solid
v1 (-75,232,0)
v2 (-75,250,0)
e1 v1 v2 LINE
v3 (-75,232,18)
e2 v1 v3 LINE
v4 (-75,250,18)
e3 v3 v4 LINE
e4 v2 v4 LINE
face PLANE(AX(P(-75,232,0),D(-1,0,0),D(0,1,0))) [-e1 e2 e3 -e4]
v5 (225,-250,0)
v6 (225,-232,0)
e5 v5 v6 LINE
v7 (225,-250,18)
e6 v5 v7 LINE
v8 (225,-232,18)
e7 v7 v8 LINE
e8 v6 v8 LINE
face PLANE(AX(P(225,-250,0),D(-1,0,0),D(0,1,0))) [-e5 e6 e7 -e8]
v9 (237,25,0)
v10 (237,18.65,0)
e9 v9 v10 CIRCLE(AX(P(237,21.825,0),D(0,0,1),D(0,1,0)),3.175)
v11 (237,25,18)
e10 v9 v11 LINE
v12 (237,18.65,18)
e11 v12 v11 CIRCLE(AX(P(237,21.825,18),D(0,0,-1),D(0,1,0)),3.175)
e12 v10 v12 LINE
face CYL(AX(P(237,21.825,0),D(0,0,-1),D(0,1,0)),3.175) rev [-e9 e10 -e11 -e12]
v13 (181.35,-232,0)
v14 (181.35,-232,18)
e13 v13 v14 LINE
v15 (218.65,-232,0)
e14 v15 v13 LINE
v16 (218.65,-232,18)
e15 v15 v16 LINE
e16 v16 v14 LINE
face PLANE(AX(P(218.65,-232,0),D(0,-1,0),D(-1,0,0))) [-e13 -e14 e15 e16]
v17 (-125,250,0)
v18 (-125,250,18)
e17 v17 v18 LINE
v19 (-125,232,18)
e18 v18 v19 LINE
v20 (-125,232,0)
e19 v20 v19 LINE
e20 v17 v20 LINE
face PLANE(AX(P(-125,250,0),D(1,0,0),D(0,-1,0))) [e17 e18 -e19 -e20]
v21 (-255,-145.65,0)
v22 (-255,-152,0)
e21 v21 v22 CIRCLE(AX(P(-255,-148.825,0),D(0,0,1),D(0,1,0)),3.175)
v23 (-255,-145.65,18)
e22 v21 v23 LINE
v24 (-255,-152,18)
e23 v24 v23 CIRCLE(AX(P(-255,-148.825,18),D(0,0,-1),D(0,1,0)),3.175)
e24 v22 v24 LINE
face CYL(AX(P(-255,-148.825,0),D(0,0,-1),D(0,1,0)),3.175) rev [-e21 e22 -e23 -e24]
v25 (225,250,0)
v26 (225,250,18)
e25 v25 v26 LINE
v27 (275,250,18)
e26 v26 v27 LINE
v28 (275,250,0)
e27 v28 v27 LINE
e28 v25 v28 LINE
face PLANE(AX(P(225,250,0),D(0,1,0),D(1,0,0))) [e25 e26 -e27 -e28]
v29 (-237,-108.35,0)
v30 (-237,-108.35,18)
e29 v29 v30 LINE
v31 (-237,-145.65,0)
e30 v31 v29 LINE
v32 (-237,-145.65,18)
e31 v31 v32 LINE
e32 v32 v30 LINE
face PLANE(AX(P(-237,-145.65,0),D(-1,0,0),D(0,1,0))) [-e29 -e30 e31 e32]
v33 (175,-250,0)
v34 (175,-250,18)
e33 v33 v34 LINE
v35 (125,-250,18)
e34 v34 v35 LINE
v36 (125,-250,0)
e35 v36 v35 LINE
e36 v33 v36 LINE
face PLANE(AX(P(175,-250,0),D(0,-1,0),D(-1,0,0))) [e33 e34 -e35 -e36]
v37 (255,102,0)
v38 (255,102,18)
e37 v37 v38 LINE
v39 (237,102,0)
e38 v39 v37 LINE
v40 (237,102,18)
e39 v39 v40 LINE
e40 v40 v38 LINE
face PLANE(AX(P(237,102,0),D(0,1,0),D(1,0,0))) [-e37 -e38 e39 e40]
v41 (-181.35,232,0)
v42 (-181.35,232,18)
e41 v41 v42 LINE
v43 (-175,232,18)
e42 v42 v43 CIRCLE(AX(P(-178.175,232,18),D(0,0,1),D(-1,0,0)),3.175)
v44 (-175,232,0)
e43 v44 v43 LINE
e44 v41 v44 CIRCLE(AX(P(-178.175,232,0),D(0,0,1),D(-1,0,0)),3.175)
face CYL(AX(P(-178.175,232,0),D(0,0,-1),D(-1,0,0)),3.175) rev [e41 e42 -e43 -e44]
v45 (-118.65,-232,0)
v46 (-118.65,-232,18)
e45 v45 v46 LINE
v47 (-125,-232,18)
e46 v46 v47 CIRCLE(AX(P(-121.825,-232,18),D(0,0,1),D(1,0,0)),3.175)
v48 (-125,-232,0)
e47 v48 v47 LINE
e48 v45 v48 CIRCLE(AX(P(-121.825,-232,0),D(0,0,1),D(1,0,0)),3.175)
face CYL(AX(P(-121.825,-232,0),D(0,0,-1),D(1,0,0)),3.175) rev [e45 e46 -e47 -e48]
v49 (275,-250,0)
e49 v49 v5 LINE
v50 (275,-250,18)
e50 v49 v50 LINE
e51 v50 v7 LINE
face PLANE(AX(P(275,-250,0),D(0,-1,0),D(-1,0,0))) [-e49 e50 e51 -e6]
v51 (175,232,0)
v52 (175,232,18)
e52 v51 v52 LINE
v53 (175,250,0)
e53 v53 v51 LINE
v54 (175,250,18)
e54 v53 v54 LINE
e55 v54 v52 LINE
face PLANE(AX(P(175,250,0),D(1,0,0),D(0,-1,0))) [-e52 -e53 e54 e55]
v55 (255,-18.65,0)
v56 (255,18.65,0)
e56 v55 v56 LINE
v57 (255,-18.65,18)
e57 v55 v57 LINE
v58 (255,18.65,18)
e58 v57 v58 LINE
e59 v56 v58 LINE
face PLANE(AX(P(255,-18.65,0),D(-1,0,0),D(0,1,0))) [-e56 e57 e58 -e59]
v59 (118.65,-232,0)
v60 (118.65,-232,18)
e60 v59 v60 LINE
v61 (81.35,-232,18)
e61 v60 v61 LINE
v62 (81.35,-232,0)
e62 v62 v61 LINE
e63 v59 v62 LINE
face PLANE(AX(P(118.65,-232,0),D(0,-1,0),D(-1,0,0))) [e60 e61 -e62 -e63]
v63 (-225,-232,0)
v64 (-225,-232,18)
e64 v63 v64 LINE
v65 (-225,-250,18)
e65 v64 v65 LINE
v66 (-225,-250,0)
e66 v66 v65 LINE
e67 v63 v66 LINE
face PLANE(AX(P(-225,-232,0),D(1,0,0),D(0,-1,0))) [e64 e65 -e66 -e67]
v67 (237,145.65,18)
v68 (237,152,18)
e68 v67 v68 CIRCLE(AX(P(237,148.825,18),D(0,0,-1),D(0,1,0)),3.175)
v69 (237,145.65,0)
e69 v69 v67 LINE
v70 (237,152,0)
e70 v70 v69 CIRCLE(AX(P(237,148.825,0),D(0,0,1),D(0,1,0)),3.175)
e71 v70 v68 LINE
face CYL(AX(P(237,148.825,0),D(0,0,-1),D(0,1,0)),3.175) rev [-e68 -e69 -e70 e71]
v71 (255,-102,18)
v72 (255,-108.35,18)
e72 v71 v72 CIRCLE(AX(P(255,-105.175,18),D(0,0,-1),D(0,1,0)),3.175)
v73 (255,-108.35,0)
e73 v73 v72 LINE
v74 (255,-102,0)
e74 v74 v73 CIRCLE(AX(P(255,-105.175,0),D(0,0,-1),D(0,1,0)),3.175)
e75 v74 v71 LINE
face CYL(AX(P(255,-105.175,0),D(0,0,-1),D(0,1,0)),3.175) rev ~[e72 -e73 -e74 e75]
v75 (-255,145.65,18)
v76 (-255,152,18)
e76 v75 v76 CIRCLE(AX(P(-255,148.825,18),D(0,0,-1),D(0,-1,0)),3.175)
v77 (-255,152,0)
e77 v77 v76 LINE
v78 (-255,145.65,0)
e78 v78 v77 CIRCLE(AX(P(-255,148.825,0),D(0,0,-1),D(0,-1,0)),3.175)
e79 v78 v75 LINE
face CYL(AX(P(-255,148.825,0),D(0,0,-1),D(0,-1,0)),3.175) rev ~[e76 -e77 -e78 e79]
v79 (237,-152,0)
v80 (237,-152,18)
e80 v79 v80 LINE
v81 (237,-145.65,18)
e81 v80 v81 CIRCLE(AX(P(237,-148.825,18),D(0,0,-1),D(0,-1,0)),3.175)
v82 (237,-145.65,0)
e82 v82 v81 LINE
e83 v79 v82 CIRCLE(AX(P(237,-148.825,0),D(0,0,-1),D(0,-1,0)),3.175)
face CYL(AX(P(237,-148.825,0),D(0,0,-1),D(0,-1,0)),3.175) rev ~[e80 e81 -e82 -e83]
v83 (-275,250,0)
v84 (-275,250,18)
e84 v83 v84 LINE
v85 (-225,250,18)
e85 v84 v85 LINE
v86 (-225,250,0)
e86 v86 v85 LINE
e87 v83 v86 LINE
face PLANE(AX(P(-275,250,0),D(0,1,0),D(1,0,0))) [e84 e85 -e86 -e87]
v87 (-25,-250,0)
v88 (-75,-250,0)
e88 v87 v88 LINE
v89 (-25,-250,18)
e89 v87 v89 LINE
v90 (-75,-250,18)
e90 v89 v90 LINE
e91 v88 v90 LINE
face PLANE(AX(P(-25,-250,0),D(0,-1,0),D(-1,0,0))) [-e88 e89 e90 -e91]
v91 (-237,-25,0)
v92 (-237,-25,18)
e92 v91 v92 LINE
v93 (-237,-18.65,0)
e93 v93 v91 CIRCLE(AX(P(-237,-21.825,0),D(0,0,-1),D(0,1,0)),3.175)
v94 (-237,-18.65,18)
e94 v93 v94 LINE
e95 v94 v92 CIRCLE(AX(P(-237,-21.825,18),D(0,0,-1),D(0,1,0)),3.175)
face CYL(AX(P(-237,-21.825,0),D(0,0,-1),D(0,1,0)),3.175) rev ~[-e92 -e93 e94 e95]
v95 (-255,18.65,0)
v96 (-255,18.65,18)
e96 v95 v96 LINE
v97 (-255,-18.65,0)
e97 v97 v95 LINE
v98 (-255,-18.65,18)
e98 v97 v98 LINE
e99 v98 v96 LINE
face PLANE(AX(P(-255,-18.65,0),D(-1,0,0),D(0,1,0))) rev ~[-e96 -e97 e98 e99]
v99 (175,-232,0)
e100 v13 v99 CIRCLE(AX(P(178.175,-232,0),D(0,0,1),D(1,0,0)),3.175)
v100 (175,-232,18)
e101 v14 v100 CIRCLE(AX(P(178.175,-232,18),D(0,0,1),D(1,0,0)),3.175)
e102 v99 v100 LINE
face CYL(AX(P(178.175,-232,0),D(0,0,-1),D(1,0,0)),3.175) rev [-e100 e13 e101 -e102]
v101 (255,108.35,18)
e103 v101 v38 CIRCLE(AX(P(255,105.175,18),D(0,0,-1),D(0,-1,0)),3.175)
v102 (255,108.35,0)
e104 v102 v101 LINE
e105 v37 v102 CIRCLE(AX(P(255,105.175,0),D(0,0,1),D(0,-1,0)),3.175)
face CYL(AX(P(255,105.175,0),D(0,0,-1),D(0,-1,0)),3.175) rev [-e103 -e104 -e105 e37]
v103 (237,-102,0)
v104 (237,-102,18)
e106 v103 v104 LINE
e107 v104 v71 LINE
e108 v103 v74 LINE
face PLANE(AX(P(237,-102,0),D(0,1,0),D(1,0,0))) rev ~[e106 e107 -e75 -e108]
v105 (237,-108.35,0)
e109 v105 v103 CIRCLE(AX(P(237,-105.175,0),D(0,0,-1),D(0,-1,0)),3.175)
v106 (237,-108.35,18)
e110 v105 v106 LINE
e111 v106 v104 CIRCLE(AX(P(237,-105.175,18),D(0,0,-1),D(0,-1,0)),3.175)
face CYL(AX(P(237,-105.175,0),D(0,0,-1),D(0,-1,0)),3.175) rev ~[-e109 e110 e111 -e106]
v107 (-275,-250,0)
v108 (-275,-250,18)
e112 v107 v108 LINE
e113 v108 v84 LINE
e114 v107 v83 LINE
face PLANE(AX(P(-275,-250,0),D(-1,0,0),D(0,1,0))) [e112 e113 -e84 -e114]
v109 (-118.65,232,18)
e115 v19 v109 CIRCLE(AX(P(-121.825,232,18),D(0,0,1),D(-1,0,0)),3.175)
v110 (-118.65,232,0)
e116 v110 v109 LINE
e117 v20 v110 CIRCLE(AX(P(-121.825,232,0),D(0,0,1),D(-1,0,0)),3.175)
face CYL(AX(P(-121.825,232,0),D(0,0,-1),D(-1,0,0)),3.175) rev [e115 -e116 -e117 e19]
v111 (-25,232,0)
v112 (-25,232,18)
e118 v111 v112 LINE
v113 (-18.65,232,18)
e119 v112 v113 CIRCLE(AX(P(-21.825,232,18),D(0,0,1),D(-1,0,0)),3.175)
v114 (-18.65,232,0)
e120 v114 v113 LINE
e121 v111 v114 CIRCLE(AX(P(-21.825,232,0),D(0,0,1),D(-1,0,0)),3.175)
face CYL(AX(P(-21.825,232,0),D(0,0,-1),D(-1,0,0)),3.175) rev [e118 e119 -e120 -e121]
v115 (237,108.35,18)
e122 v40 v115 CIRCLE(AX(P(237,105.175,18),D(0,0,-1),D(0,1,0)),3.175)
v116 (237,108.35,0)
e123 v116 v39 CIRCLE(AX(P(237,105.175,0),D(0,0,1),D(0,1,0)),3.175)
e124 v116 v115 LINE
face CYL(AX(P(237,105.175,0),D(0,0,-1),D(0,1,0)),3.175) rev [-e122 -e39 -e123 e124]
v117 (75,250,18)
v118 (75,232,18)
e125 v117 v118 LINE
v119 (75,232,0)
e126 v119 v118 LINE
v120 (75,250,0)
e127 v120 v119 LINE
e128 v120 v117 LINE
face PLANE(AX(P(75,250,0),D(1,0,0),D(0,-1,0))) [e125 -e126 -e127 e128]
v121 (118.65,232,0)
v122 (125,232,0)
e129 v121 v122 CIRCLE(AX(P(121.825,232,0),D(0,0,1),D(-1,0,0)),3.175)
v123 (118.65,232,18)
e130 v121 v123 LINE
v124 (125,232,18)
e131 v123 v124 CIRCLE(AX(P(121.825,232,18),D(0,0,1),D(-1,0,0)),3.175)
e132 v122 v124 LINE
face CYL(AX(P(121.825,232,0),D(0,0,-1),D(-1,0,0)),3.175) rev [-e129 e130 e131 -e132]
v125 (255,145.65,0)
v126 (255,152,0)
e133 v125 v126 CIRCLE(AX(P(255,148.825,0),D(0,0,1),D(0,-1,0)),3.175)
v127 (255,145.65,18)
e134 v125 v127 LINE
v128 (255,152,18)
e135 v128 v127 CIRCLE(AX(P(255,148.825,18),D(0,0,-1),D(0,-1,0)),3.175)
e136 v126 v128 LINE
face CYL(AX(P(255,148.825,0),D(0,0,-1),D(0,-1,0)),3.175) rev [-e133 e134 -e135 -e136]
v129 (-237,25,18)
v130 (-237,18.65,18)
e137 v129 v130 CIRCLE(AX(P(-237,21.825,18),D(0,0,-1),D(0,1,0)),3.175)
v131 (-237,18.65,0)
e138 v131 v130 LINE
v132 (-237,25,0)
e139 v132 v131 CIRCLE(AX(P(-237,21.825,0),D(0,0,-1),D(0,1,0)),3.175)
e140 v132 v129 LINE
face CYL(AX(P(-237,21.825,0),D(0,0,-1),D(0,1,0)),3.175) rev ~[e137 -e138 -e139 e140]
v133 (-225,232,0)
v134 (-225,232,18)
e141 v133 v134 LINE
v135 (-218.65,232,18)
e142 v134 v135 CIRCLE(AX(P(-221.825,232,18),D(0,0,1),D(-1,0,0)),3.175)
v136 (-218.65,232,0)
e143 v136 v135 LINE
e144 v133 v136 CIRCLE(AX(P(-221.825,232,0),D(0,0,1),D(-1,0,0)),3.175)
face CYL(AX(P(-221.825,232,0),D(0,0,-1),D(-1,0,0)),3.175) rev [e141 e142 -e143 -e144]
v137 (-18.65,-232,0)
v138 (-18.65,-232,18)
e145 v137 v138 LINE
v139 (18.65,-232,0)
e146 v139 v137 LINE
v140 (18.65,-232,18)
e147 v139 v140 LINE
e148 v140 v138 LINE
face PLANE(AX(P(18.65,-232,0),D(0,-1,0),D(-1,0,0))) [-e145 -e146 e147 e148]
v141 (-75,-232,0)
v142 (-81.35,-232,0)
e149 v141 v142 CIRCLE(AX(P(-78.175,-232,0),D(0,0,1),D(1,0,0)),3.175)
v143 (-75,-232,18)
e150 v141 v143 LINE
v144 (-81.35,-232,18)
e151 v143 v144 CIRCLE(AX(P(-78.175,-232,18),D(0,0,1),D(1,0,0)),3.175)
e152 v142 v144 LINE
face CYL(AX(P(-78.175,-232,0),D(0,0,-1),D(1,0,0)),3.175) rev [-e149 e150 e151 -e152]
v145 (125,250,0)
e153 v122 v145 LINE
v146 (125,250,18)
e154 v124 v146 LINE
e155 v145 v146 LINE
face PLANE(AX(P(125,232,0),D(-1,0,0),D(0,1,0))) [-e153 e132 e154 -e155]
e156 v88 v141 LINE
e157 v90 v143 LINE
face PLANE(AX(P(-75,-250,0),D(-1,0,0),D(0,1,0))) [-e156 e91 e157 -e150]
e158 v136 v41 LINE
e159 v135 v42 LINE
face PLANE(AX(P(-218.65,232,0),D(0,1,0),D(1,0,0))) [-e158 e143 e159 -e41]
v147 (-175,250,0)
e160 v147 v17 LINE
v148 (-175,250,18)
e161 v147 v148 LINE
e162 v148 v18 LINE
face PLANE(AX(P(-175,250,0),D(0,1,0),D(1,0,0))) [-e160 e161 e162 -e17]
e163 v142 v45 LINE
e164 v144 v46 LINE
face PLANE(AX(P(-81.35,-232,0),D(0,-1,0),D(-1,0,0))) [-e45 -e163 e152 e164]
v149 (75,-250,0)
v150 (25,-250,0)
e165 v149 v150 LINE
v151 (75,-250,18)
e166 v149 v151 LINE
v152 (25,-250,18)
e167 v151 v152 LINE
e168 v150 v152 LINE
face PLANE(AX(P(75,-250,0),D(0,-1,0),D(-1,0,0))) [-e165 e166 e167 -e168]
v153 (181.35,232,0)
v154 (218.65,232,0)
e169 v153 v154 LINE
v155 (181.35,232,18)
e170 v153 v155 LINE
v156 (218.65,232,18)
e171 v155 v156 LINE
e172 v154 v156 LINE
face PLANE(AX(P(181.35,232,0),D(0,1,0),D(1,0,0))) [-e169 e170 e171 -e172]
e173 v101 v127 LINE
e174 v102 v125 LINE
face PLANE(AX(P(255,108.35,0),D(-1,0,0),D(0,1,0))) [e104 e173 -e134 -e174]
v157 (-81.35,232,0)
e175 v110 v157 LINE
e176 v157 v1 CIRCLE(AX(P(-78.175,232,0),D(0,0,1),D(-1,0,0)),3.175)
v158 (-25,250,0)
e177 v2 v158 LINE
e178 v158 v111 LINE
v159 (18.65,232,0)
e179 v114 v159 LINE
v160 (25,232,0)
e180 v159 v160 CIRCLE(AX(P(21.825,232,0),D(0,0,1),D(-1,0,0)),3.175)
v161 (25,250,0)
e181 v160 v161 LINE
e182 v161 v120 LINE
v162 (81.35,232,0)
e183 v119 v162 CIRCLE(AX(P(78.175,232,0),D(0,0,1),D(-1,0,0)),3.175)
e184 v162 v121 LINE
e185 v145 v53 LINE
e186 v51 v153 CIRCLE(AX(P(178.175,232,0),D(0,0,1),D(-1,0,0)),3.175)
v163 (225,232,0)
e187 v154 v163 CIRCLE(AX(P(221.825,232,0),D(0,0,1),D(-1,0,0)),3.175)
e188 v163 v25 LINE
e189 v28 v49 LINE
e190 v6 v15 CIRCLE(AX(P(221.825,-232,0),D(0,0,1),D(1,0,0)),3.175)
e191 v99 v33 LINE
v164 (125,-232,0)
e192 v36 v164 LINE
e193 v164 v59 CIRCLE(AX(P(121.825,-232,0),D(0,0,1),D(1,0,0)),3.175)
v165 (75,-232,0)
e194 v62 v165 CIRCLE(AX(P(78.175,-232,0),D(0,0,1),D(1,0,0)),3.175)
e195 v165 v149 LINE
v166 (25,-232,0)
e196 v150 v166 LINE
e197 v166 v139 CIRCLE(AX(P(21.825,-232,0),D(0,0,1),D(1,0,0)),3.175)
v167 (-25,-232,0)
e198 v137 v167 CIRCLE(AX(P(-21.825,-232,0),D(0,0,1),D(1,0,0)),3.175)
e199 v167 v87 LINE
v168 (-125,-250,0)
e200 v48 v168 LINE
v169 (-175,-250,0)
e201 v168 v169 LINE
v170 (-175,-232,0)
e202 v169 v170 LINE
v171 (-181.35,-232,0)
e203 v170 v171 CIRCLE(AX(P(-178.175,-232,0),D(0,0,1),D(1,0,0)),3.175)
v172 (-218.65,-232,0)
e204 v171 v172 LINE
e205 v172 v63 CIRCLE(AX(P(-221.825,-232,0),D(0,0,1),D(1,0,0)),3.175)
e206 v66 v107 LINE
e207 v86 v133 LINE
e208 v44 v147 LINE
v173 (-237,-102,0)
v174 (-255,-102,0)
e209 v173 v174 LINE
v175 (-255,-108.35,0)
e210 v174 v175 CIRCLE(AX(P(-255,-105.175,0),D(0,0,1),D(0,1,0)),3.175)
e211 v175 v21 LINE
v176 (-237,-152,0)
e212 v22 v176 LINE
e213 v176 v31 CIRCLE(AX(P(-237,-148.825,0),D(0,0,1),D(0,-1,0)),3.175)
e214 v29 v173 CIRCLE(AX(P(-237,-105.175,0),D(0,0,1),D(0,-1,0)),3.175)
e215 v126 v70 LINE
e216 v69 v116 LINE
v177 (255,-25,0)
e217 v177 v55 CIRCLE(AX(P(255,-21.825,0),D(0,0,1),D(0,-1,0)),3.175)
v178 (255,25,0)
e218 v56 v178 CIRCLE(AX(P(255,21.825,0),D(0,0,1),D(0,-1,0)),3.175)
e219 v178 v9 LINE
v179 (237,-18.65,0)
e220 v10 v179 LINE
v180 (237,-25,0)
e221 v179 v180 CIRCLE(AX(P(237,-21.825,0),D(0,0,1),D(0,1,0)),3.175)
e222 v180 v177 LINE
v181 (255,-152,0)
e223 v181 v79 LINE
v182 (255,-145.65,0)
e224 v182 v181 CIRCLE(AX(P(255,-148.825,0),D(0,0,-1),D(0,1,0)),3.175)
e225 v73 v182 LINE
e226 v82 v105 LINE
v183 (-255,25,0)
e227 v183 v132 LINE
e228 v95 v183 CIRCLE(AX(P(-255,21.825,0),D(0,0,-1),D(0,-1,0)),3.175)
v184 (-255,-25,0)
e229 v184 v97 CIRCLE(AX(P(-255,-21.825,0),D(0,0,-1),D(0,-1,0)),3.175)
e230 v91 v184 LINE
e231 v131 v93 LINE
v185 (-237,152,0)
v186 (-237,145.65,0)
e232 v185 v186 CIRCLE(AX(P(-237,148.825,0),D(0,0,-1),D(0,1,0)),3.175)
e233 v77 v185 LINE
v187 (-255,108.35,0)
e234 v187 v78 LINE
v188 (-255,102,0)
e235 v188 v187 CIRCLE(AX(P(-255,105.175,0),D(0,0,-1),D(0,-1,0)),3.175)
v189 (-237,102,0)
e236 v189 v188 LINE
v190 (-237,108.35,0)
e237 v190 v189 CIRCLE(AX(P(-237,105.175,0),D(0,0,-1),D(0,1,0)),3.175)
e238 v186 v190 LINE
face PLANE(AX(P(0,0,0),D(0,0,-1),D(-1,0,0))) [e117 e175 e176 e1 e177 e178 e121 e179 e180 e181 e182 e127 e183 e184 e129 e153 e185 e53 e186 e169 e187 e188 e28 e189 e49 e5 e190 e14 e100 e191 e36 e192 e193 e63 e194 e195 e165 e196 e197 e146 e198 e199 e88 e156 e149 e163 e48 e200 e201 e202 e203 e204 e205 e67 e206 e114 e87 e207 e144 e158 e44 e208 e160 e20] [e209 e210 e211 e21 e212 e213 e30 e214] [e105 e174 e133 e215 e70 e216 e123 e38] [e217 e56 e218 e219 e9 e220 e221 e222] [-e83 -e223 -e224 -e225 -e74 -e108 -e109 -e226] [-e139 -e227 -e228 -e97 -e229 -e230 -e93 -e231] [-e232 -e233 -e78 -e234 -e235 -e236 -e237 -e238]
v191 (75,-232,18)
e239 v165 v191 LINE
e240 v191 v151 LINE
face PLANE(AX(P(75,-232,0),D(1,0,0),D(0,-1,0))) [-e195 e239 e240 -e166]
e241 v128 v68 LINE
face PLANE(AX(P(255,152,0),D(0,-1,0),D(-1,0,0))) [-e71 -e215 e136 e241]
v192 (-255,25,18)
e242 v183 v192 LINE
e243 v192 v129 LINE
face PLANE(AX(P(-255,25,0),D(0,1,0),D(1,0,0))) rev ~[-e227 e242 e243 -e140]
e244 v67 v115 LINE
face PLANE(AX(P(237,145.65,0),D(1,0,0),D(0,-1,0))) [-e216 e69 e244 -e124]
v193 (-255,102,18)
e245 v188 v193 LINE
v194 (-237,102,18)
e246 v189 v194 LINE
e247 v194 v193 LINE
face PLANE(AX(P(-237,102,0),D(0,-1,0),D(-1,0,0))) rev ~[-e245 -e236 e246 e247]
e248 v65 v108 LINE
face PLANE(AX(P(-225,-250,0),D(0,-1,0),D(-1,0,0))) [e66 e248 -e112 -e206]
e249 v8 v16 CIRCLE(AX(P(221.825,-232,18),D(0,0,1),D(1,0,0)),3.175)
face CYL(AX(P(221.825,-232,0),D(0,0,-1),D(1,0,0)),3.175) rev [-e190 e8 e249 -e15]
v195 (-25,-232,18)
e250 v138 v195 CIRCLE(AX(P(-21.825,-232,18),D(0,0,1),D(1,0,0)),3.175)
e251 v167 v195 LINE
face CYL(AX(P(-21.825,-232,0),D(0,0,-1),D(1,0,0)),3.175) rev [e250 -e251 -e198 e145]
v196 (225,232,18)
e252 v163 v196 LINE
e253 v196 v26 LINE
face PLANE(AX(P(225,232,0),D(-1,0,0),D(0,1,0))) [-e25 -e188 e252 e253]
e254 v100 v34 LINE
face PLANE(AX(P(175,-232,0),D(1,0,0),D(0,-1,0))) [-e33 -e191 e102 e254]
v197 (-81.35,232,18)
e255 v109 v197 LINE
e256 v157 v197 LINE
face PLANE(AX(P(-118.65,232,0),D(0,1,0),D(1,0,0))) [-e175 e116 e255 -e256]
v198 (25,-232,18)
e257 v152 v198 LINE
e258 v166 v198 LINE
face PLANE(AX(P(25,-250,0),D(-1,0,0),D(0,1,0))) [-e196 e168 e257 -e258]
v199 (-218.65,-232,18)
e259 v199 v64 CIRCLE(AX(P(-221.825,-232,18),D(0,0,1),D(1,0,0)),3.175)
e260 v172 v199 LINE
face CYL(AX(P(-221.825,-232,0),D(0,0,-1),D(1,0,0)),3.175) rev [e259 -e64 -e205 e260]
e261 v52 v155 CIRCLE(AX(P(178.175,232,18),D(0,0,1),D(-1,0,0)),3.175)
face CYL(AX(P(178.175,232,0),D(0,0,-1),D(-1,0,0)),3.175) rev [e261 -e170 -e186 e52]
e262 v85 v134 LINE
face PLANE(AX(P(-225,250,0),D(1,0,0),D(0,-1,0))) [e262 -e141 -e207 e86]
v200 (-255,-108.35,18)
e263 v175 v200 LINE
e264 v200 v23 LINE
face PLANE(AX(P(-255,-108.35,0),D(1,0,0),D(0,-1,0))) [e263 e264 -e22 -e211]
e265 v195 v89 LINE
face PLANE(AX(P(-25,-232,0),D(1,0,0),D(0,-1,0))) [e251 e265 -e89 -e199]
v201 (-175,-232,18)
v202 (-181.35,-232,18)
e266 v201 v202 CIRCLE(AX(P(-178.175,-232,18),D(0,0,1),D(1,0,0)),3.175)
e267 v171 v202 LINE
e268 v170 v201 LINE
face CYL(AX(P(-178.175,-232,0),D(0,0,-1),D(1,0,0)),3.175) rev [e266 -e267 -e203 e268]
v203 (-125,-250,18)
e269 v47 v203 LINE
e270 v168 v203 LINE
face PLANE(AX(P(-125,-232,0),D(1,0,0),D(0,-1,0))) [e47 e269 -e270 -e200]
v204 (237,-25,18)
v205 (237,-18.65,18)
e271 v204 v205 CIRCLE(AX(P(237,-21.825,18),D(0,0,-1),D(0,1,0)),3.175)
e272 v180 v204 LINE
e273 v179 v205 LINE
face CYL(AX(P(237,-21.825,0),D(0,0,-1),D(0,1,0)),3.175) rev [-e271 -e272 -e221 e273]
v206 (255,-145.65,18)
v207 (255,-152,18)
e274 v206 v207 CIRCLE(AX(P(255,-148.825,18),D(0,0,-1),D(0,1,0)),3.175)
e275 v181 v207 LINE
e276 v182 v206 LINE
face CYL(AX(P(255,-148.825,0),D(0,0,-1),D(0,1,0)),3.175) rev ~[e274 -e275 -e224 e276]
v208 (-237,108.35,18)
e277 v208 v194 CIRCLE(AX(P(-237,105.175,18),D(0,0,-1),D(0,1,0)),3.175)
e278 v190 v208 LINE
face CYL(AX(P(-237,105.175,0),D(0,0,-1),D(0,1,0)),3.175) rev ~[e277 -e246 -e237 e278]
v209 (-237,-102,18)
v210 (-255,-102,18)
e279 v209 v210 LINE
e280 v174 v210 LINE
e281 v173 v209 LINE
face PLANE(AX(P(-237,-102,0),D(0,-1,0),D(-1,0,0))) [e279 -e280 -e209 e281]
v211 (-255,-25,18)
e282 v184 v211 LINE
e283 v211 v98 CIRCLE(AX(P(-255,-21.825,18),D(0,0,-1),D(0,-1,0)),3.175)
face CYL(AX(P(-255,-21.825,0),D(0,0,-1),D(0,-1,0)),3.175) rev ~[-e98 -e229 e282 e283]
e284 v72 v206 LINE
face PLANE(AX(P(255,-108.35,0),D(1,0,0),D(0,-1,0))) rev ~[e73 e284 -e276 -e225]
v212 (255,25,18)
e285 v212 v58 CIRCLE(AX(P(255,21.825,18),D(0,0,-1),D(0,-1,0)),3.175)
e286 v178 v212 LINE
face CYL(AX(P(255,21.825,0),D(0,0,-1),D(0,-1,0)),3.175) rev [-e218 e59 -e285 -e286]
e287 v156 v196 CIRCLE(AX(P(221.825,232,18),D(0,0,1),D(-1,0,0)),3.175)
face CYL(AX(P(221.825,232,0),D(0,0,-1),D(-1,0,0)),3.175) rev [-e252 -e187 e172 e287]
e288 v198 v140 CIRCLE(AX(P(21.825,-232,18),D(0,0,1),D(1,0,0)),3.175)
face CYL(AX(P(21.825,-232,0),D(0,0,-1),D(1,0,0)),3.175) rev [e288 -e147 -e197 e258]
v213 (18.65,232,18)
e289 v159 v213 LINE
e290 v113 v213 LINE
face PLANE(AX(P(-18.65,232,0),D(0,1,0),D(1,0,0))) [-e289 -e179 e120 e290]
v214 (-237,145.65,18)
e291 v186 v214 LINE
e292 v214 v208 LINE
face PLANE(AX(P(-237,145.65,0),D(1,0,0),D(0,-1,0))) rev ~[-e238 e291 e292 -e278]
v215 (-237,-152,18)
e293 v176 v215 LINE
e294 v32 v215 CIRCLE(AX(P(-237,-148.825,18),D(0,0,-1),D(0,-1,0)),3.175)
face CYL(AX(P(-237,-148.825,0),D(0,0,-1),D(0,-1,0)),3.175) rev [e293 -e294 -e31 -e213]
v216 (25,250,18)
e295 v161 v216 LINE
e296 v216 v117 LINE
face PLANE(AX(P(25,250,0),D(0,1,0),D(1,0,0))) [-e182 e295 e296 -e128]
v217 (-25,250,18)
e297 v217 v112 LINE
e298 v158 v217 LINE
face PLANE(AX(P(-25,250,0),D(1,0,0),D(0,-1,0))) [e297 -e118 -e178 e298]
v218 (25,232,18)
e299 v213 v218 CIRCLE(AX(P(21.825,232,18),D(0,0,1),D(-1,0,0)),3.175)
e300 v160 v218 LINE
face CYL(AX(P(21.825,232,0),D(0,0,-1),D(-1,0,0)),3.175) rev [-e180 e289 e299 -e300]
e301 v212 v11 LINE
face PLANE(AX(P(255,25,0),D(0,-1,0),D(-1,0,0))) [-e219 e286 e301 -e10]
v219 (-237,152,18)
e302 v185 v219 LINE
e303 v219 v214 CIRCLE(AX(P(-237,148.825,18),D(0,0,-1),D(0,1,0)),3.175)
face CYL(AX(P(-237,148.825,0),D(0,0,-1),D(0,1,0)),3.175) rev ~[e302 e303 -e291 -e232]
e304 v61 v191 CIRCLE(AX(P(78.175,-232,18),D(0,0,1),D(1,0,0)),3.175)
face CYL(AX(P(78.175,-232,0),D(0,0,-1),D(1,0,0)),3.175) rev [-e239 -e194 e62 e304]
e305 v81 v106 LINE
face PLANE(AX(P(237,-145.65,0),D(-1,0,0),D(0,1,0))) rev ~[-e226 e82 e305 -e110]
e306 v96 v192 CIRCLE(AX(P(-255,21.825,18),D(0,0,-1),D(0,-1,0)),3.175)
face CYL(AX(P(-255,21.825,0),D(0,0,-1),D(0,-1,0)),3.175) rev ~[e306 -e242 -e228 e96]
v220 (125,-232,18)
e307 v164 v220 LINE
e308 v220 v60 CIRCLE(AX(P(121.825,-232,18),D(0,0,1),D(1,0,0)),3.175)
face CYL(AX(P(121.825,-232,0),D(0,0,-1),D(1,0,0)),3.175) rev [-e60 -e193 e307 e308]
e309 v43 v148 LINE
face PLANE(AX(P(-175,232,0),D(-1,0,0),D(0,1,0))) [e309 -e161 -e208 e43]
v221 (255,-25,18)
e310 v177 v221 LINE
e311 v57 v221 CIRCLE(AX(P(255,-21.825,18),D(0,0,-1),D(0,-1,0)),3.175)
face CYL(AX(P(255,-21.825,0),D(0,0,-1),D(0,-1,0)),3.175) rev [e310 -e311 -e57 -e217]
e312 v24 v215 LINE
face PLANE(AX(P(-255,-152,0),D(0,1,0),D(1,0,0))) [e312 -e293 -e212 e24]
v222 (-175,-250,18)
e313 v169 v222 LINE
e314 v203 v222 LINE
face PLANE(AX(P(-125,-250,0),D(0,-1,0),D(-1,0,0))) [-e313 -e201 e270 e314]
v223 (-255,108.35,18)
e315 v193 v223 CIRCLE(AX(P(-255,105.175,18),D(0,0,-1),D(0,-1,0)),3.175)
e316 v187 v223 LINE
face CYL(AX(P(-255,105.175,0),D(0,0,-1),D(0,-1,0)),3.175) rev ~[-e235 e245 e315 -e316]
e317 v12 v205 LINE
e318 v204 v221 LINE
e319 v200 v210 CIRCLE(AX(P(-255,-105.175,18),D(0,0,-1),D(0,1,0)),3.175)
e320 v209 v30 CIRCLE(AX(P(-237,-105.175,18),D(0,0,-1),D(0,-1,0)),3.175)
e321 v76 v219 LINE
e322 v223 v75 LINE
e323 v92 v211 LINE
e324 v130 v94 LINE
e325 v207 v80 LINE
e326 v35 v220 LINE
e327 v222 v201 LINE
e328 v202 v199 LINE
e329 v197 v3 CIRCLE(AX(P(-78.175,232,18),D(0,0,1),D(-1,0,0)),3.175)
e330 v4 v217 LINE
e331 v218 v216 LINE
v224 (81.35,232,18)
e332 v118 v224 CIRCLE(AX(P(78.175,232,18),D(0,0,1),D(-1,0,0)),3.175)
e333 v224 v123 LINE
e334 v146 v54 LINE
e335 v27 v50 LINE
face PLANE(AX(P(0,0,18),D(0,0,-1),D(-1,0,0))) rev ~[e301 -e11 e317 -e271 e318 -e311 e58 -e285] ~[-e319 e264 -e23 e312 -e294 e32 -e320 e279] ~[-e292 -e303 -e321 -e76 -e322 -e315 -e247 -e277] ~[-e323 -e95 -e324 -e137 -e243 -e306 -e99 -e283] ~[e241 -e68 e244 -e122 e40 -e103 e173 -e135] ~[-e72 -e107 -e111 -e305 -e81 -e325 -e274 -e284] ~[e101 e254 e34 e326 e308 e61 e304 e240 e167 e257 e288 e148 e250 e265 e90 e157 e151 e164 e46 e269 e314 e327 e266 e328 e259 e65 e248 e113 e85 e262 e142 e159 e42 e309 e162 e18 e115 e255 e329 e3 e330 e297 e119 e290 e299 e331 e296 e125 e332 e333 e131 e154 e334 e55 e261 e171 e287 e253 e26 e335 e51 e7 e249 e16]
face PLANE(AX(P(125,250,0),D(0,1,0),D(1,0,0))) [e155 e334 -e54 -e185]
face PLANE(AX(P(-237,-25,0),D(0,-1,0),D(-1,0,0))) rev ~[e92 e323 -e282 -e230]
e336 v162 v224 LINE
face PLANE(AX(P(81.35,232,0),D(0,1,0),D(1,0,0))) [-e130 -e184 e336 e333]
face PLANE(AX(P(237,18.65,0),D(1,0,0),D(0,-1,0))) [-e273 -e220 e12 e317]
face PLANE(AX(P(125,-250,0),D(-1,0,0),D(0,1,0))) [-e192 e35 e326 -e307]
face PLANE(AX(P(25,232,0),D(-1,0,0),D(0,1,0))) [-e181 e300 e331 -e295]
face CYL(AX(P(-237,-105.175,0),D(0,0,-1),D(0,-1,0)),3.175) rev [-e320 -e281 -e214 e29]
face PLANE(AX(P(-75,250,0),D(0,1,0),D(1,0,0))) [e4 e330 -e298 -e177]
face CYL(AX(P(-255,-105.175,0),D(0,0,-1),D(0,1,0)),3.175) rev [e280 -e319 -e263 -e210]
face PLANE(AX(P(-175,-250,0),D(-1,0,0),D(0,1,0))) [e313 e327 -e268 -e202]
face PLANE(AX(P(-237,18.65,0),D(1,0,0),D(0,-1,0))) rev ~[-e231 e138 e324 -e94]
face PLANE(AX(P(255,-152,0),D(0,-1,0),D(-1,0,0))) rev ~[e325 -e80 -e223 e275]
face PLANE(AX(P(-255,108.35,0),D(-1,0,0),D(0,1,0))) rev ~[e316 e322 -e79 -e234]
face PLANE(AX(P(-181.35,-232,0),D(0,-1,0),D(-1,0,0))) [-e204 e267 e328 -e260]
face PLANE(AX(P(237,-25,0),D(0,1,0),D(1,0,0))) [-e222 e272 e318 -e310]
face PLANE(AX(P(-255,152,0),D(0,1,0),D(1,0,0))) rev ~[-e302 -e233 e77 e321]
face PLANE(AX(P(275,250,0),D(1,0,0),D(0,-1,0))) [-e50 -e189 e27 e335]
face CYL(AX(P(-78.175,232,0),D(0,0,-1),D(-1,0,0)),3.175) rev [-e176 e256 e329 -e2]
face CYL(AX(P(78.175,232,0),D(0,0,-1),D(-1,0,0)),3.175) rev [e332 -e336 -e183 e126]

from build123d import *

# Parameters (mm, degrees)
ESTRUSIONE_ESTRUSIONE1_DEPTH = 18
TAGLIO_ESTRUSIONE1_DEPTH     = 115
TAGLIO_ESTRUSIONE2_DEPTH     = 258
TAGLIO_ESTRUSIONE3_DEPTH     = 723
TAGLIO_ESTRUSIONE4_DEPTH     = 160
TAGLIO_ESTRUSIONE5_DEPTH     = 190
TAGLIO_ESTRUSIONE6_DEPTH     = 231


with BuildPart() as part:
    # Schizzo2 → Estrusione-Estrusione1 (new body)
    with BuildSketch(Plane.XY):
        with BuildLine():
            Line((-275, -250), (-275, 250))
            Line((-275, 250), (-225, 250))
            Line((-225, 250), (-225, 232))
            ThreePointArc((-225, 232), (-221.825, 228.825), (-218.65, 232))
            Line((-218.65, 232), (-181.35, 232))
            ThreePointArc((-181.35, 232), (-178.175, 228.825), (-175, 232))
            Line((-175, 232), (-175, 250))
            Line((-175, 250), (-125, 250))
            Line((-125, 250), (-125, 232))
            ThreePointArc((-125, 232), (-121.825, 228.825), (-118.65, 232))
            Line((-118.65, 232), (-81.35, 232))
            ThreePointArc((-81.35, 232), (-78.175, 228.825), (-75, 232))
            Line((-75, 232), (-75, 250))
            Line((-75, 250), (-25, 250))
            Line((-25, 250), (-25, 232))
            ThreePointArc((-25, 232), (-21.825, 228.825), (-18.65, 232))
            Line((-18.65, 232), (18.65, 232))
            ThreePointArc((18.65, 232), (21.825, 228.825), (25, 232))
            Line((25, 232), (25, 250))
            Line((25, 250), (75, 250))
            Line((75, 250), (75, 232))
            ThreePointArc((75, 232), (78.175, 228.825), (81.35, 232))
            Line((81.35, 232), (118.65, 232))
            ThreePointArc((118.65, 232), (121.825, 228.825), (125, 232))
            Line((125, 232), (125, 250))
            Line((125, 250), (175, 250))
            Line((175, 250), (175, 232))
            ThreePointArc((175, 232), (178.175, 228.825), (181.35, 232))
            Line((181.35, 232), (218.65, 232))
            ThreePointArc((218.65, 232), (221.825, 228.825), (225, 232))
            Line((225, 232), (225, 250))
            Line((225, 250), (275, 250))
            Line((275, 250), (275, -250))
            Line((275, -250), (225, -250))
            Line((225, -250), (225, -232))
            ThreePointArc((225, -232), (221.825, -228.825), (218.65, -232))
            Line((218.65, -232), (181.35, -232))
            ThreePointArc((181.35, -232), (178.175, -228.825), (175, -232))
            Line((175, -232), (175, -250))
            Line((175, -250), (125, -250))
            Line((125, -250), (125, -232))
            ThreePointArc((125, -232), (121.825, -228.825), (118.65, -232))
            Line((118.65, -232), (81.35, -232))
            ThreePointArc((81.35, -232), (78.175, -228.825), (75, -232))
            Line((75, -232), (75, -250))
            Line((75, -250), (25, -250))
            Line((25, -250), (25, -232))
            ThreePointArc((25, -232), (21.825, -228.825), (18.65, -232))
            Line((18.65, -232), (-18.65, -232))
            ThreePointArc((-18.65, -232), (-21.825, -228.825), (-25, -232))
            Line((-25, -232), (-25, -250))
            Line((-25, -250), (-75, -250))
            Line((-75, -250), (-75, -232))
            ThreePointArc((-75, -232), (-78.175, -228.825), (-81.35, -232))
            Line((-81.35, -232), (-118.65, -232))
            ThreePointArc((-118.65, -232), (-121.825, -228.825), (-125, -232))
            Line((-125, -232), (-125, -250))
            Line((-125, -250), (-175, -250))
            Line((-175, -250), (-175, -232))
            ThreePointArc((-175, -232), (-178.175, -228.825), (-181.35, -232))
            Line((-181.35, -232), (-218.65, -232))
            ThreePointArc((-218.65, -232), (-221.825, -228.825), (-225, -232))
            Line((-225, -232), (-225, -250))
            Line((-225, -250), (-275, -250))
        make_face()
    extrude(amount=ESTRUSIONE_ESTRUSIONE1_DEPTH)

    # Schizzo2<4> → Taglio-Estrusione1 (cut)
    with BuildSketch(Plane.XY):
        with BuildLine():
            Line((237, 145.65), (237, 108.35))
            ThreePointArc((237, 108.35), (233.825, 105.175), (237, 102))
            Line((237, 102), (255, 102))
            ThreePointArc((255, 102), (258.175, 105.175), (255, 108.35))
            Line((255, 108.35), (255, 145.65))
            ThreePointArc((255, 145.65), (258.175, 148.825), (255, 152))
            Line((255, 152), (237, 152))
            ThreePointArc((237, 152), (233.825, 148.825), (237, 145.65))
        make_face()
    extrude(amount=TAGLIO_ESTRUSIONE1_DEPTH, mode=Mode.SUBTRACT)

    # Schizzo2<5> → Taglio-Estrusione2 (cut)
    with BuildSketch(Plane.XY):
        with BuildLine():
            Line((255, -18.65), (255, 18.65))
            ThreePointArc((255, 18.65), (258.175, 21.825), (255, 25))
            Line((255, 25), (237, 25))
            ThreePointArc((237, 25), (233.825, 21.825), (237, 18.65))
            Line((237, 18.65), (237, -18.65))
            ThreePointArc((237, -18.65), (233.825, -21.825), (237, -25))
            Line((237, -25), (255, -25))
            ThreePointArc((255, -25), (258.175, -21.825), (255, -18.65))
        make_face()
    extrude(amount=TAGLIO_ESTRUSIONE2_DEPTH, mode=Mode.SUBTRACT)

    # Schizzo2<7> → Taglio-Estrusione3 (cut)
    with BuildSketch(Plane.XY):
        with BuildLine():
            Line((255, -152), (237, -152))
            ThreePointArc((237, -152), (233.825, -148.825), (237, -145.65))
            Line((237, -145.65), (237, -108.35))
            ThreePointArc((237, -108.35), (233.825, -105.175), (237, -102))
            Line((237, -102), (255, -102))
            ThreePointArc((255, -102), (258.175, -105.175), (255, -108.35))
            Line((255, -108.35), (255, -145.65))
            ThreePointArc((255, -145.65), (258.175, -148.825), (255, -152))
        make_face()
    extrude(amount=TAGLIO_ESTRUSIONE3_DEPTH, mode=Mode.SUBTRACT)

    # Schizzo2<8> → Taglio-Estrusione4 (cut)
    with BuildSketch(Plane.XY):
        with BuildLine():
            Line((-255, 152), (-237, 152))
            ThreePointArc((-237, 152), (-233.825, 148.825), (-237, 145.65))
            Line((-237, 145.65), (-237, 108.35))
            ThreePointArc((-237, 108.35), (-233.825, 105.175), (-237, 102))
            Line((-237, 102), (-255, 102))
            ThreePointArc((-255, 102), (-258.175, 105.175), (-255, 108.35))
            Line((-255, 108.35), (-255, 145.65))
            ThreePointArc((-255, 145.65), (-258.175, 148.825), (-255, 152))
        make_face()
    extrude(amount=TAGLIO_ESTRUSIONE4_DEPTH, mode=Mode.SUBTRACT)

    # Schizzo2<9> → Taglio-Estrusione5 (cut)
    with BuildSketch(Plane.XY):
        with BuildLine():
            Line((-255, 25), (-237, 25))
            ThreePointArc((-237, 25), (-233.825, 21.825), (-237, 18.65))
            Line((-237, 18.65), (-237, -18.65))
            ThreePointArc((-237, -18.65), (-233.825, -21.825), (-237, -25))
            Line((-237, -25), (-255, -25))
            ThreePointArc((-255, -25), (-258.175, -21.825), (-255, -18.65))
            Line((-255, -18.65), (-255, 18.65))
            ThreePointArc((-255, 18.65), (-258.175, 21.825), (-255, 25))
        make_face()
    extrude(amount=TAGLIO_ESTRUSIONE5_DEPTH, mode=Mode.SUBTRACT)

    # Schizzo2<10> → Taglio-Estrusione6 (cut)
    with BuildSketch(Plane.XY):
        with BuildLine():
            Line((-237, -145.65), (-237, -108.35))
            ThreePointArc((-237, -108.35), (-233.825, -105.175), (-237, -102))
            Line((-237, -102), (-255, -102))
            ThreePointArc((-255, -102), (-258.175, -105.175), (-255, -108.35))
            Line((-255, -108.35), (-255, -145.65))
            ThreePointArc((-255, -145.65), (-258.175, -148.825), (-255, -152))
            Line((-255, -152), (-237, -152))
            ThreePointArc((-237, -152), (-233.825, -148.825), (-237, -145.65))
        make_face()
    extrude(amount=TAGLIO_ESTRUSIONE6_DEPTH, mode=Mode.SUBTRACT)


solid = part.part
